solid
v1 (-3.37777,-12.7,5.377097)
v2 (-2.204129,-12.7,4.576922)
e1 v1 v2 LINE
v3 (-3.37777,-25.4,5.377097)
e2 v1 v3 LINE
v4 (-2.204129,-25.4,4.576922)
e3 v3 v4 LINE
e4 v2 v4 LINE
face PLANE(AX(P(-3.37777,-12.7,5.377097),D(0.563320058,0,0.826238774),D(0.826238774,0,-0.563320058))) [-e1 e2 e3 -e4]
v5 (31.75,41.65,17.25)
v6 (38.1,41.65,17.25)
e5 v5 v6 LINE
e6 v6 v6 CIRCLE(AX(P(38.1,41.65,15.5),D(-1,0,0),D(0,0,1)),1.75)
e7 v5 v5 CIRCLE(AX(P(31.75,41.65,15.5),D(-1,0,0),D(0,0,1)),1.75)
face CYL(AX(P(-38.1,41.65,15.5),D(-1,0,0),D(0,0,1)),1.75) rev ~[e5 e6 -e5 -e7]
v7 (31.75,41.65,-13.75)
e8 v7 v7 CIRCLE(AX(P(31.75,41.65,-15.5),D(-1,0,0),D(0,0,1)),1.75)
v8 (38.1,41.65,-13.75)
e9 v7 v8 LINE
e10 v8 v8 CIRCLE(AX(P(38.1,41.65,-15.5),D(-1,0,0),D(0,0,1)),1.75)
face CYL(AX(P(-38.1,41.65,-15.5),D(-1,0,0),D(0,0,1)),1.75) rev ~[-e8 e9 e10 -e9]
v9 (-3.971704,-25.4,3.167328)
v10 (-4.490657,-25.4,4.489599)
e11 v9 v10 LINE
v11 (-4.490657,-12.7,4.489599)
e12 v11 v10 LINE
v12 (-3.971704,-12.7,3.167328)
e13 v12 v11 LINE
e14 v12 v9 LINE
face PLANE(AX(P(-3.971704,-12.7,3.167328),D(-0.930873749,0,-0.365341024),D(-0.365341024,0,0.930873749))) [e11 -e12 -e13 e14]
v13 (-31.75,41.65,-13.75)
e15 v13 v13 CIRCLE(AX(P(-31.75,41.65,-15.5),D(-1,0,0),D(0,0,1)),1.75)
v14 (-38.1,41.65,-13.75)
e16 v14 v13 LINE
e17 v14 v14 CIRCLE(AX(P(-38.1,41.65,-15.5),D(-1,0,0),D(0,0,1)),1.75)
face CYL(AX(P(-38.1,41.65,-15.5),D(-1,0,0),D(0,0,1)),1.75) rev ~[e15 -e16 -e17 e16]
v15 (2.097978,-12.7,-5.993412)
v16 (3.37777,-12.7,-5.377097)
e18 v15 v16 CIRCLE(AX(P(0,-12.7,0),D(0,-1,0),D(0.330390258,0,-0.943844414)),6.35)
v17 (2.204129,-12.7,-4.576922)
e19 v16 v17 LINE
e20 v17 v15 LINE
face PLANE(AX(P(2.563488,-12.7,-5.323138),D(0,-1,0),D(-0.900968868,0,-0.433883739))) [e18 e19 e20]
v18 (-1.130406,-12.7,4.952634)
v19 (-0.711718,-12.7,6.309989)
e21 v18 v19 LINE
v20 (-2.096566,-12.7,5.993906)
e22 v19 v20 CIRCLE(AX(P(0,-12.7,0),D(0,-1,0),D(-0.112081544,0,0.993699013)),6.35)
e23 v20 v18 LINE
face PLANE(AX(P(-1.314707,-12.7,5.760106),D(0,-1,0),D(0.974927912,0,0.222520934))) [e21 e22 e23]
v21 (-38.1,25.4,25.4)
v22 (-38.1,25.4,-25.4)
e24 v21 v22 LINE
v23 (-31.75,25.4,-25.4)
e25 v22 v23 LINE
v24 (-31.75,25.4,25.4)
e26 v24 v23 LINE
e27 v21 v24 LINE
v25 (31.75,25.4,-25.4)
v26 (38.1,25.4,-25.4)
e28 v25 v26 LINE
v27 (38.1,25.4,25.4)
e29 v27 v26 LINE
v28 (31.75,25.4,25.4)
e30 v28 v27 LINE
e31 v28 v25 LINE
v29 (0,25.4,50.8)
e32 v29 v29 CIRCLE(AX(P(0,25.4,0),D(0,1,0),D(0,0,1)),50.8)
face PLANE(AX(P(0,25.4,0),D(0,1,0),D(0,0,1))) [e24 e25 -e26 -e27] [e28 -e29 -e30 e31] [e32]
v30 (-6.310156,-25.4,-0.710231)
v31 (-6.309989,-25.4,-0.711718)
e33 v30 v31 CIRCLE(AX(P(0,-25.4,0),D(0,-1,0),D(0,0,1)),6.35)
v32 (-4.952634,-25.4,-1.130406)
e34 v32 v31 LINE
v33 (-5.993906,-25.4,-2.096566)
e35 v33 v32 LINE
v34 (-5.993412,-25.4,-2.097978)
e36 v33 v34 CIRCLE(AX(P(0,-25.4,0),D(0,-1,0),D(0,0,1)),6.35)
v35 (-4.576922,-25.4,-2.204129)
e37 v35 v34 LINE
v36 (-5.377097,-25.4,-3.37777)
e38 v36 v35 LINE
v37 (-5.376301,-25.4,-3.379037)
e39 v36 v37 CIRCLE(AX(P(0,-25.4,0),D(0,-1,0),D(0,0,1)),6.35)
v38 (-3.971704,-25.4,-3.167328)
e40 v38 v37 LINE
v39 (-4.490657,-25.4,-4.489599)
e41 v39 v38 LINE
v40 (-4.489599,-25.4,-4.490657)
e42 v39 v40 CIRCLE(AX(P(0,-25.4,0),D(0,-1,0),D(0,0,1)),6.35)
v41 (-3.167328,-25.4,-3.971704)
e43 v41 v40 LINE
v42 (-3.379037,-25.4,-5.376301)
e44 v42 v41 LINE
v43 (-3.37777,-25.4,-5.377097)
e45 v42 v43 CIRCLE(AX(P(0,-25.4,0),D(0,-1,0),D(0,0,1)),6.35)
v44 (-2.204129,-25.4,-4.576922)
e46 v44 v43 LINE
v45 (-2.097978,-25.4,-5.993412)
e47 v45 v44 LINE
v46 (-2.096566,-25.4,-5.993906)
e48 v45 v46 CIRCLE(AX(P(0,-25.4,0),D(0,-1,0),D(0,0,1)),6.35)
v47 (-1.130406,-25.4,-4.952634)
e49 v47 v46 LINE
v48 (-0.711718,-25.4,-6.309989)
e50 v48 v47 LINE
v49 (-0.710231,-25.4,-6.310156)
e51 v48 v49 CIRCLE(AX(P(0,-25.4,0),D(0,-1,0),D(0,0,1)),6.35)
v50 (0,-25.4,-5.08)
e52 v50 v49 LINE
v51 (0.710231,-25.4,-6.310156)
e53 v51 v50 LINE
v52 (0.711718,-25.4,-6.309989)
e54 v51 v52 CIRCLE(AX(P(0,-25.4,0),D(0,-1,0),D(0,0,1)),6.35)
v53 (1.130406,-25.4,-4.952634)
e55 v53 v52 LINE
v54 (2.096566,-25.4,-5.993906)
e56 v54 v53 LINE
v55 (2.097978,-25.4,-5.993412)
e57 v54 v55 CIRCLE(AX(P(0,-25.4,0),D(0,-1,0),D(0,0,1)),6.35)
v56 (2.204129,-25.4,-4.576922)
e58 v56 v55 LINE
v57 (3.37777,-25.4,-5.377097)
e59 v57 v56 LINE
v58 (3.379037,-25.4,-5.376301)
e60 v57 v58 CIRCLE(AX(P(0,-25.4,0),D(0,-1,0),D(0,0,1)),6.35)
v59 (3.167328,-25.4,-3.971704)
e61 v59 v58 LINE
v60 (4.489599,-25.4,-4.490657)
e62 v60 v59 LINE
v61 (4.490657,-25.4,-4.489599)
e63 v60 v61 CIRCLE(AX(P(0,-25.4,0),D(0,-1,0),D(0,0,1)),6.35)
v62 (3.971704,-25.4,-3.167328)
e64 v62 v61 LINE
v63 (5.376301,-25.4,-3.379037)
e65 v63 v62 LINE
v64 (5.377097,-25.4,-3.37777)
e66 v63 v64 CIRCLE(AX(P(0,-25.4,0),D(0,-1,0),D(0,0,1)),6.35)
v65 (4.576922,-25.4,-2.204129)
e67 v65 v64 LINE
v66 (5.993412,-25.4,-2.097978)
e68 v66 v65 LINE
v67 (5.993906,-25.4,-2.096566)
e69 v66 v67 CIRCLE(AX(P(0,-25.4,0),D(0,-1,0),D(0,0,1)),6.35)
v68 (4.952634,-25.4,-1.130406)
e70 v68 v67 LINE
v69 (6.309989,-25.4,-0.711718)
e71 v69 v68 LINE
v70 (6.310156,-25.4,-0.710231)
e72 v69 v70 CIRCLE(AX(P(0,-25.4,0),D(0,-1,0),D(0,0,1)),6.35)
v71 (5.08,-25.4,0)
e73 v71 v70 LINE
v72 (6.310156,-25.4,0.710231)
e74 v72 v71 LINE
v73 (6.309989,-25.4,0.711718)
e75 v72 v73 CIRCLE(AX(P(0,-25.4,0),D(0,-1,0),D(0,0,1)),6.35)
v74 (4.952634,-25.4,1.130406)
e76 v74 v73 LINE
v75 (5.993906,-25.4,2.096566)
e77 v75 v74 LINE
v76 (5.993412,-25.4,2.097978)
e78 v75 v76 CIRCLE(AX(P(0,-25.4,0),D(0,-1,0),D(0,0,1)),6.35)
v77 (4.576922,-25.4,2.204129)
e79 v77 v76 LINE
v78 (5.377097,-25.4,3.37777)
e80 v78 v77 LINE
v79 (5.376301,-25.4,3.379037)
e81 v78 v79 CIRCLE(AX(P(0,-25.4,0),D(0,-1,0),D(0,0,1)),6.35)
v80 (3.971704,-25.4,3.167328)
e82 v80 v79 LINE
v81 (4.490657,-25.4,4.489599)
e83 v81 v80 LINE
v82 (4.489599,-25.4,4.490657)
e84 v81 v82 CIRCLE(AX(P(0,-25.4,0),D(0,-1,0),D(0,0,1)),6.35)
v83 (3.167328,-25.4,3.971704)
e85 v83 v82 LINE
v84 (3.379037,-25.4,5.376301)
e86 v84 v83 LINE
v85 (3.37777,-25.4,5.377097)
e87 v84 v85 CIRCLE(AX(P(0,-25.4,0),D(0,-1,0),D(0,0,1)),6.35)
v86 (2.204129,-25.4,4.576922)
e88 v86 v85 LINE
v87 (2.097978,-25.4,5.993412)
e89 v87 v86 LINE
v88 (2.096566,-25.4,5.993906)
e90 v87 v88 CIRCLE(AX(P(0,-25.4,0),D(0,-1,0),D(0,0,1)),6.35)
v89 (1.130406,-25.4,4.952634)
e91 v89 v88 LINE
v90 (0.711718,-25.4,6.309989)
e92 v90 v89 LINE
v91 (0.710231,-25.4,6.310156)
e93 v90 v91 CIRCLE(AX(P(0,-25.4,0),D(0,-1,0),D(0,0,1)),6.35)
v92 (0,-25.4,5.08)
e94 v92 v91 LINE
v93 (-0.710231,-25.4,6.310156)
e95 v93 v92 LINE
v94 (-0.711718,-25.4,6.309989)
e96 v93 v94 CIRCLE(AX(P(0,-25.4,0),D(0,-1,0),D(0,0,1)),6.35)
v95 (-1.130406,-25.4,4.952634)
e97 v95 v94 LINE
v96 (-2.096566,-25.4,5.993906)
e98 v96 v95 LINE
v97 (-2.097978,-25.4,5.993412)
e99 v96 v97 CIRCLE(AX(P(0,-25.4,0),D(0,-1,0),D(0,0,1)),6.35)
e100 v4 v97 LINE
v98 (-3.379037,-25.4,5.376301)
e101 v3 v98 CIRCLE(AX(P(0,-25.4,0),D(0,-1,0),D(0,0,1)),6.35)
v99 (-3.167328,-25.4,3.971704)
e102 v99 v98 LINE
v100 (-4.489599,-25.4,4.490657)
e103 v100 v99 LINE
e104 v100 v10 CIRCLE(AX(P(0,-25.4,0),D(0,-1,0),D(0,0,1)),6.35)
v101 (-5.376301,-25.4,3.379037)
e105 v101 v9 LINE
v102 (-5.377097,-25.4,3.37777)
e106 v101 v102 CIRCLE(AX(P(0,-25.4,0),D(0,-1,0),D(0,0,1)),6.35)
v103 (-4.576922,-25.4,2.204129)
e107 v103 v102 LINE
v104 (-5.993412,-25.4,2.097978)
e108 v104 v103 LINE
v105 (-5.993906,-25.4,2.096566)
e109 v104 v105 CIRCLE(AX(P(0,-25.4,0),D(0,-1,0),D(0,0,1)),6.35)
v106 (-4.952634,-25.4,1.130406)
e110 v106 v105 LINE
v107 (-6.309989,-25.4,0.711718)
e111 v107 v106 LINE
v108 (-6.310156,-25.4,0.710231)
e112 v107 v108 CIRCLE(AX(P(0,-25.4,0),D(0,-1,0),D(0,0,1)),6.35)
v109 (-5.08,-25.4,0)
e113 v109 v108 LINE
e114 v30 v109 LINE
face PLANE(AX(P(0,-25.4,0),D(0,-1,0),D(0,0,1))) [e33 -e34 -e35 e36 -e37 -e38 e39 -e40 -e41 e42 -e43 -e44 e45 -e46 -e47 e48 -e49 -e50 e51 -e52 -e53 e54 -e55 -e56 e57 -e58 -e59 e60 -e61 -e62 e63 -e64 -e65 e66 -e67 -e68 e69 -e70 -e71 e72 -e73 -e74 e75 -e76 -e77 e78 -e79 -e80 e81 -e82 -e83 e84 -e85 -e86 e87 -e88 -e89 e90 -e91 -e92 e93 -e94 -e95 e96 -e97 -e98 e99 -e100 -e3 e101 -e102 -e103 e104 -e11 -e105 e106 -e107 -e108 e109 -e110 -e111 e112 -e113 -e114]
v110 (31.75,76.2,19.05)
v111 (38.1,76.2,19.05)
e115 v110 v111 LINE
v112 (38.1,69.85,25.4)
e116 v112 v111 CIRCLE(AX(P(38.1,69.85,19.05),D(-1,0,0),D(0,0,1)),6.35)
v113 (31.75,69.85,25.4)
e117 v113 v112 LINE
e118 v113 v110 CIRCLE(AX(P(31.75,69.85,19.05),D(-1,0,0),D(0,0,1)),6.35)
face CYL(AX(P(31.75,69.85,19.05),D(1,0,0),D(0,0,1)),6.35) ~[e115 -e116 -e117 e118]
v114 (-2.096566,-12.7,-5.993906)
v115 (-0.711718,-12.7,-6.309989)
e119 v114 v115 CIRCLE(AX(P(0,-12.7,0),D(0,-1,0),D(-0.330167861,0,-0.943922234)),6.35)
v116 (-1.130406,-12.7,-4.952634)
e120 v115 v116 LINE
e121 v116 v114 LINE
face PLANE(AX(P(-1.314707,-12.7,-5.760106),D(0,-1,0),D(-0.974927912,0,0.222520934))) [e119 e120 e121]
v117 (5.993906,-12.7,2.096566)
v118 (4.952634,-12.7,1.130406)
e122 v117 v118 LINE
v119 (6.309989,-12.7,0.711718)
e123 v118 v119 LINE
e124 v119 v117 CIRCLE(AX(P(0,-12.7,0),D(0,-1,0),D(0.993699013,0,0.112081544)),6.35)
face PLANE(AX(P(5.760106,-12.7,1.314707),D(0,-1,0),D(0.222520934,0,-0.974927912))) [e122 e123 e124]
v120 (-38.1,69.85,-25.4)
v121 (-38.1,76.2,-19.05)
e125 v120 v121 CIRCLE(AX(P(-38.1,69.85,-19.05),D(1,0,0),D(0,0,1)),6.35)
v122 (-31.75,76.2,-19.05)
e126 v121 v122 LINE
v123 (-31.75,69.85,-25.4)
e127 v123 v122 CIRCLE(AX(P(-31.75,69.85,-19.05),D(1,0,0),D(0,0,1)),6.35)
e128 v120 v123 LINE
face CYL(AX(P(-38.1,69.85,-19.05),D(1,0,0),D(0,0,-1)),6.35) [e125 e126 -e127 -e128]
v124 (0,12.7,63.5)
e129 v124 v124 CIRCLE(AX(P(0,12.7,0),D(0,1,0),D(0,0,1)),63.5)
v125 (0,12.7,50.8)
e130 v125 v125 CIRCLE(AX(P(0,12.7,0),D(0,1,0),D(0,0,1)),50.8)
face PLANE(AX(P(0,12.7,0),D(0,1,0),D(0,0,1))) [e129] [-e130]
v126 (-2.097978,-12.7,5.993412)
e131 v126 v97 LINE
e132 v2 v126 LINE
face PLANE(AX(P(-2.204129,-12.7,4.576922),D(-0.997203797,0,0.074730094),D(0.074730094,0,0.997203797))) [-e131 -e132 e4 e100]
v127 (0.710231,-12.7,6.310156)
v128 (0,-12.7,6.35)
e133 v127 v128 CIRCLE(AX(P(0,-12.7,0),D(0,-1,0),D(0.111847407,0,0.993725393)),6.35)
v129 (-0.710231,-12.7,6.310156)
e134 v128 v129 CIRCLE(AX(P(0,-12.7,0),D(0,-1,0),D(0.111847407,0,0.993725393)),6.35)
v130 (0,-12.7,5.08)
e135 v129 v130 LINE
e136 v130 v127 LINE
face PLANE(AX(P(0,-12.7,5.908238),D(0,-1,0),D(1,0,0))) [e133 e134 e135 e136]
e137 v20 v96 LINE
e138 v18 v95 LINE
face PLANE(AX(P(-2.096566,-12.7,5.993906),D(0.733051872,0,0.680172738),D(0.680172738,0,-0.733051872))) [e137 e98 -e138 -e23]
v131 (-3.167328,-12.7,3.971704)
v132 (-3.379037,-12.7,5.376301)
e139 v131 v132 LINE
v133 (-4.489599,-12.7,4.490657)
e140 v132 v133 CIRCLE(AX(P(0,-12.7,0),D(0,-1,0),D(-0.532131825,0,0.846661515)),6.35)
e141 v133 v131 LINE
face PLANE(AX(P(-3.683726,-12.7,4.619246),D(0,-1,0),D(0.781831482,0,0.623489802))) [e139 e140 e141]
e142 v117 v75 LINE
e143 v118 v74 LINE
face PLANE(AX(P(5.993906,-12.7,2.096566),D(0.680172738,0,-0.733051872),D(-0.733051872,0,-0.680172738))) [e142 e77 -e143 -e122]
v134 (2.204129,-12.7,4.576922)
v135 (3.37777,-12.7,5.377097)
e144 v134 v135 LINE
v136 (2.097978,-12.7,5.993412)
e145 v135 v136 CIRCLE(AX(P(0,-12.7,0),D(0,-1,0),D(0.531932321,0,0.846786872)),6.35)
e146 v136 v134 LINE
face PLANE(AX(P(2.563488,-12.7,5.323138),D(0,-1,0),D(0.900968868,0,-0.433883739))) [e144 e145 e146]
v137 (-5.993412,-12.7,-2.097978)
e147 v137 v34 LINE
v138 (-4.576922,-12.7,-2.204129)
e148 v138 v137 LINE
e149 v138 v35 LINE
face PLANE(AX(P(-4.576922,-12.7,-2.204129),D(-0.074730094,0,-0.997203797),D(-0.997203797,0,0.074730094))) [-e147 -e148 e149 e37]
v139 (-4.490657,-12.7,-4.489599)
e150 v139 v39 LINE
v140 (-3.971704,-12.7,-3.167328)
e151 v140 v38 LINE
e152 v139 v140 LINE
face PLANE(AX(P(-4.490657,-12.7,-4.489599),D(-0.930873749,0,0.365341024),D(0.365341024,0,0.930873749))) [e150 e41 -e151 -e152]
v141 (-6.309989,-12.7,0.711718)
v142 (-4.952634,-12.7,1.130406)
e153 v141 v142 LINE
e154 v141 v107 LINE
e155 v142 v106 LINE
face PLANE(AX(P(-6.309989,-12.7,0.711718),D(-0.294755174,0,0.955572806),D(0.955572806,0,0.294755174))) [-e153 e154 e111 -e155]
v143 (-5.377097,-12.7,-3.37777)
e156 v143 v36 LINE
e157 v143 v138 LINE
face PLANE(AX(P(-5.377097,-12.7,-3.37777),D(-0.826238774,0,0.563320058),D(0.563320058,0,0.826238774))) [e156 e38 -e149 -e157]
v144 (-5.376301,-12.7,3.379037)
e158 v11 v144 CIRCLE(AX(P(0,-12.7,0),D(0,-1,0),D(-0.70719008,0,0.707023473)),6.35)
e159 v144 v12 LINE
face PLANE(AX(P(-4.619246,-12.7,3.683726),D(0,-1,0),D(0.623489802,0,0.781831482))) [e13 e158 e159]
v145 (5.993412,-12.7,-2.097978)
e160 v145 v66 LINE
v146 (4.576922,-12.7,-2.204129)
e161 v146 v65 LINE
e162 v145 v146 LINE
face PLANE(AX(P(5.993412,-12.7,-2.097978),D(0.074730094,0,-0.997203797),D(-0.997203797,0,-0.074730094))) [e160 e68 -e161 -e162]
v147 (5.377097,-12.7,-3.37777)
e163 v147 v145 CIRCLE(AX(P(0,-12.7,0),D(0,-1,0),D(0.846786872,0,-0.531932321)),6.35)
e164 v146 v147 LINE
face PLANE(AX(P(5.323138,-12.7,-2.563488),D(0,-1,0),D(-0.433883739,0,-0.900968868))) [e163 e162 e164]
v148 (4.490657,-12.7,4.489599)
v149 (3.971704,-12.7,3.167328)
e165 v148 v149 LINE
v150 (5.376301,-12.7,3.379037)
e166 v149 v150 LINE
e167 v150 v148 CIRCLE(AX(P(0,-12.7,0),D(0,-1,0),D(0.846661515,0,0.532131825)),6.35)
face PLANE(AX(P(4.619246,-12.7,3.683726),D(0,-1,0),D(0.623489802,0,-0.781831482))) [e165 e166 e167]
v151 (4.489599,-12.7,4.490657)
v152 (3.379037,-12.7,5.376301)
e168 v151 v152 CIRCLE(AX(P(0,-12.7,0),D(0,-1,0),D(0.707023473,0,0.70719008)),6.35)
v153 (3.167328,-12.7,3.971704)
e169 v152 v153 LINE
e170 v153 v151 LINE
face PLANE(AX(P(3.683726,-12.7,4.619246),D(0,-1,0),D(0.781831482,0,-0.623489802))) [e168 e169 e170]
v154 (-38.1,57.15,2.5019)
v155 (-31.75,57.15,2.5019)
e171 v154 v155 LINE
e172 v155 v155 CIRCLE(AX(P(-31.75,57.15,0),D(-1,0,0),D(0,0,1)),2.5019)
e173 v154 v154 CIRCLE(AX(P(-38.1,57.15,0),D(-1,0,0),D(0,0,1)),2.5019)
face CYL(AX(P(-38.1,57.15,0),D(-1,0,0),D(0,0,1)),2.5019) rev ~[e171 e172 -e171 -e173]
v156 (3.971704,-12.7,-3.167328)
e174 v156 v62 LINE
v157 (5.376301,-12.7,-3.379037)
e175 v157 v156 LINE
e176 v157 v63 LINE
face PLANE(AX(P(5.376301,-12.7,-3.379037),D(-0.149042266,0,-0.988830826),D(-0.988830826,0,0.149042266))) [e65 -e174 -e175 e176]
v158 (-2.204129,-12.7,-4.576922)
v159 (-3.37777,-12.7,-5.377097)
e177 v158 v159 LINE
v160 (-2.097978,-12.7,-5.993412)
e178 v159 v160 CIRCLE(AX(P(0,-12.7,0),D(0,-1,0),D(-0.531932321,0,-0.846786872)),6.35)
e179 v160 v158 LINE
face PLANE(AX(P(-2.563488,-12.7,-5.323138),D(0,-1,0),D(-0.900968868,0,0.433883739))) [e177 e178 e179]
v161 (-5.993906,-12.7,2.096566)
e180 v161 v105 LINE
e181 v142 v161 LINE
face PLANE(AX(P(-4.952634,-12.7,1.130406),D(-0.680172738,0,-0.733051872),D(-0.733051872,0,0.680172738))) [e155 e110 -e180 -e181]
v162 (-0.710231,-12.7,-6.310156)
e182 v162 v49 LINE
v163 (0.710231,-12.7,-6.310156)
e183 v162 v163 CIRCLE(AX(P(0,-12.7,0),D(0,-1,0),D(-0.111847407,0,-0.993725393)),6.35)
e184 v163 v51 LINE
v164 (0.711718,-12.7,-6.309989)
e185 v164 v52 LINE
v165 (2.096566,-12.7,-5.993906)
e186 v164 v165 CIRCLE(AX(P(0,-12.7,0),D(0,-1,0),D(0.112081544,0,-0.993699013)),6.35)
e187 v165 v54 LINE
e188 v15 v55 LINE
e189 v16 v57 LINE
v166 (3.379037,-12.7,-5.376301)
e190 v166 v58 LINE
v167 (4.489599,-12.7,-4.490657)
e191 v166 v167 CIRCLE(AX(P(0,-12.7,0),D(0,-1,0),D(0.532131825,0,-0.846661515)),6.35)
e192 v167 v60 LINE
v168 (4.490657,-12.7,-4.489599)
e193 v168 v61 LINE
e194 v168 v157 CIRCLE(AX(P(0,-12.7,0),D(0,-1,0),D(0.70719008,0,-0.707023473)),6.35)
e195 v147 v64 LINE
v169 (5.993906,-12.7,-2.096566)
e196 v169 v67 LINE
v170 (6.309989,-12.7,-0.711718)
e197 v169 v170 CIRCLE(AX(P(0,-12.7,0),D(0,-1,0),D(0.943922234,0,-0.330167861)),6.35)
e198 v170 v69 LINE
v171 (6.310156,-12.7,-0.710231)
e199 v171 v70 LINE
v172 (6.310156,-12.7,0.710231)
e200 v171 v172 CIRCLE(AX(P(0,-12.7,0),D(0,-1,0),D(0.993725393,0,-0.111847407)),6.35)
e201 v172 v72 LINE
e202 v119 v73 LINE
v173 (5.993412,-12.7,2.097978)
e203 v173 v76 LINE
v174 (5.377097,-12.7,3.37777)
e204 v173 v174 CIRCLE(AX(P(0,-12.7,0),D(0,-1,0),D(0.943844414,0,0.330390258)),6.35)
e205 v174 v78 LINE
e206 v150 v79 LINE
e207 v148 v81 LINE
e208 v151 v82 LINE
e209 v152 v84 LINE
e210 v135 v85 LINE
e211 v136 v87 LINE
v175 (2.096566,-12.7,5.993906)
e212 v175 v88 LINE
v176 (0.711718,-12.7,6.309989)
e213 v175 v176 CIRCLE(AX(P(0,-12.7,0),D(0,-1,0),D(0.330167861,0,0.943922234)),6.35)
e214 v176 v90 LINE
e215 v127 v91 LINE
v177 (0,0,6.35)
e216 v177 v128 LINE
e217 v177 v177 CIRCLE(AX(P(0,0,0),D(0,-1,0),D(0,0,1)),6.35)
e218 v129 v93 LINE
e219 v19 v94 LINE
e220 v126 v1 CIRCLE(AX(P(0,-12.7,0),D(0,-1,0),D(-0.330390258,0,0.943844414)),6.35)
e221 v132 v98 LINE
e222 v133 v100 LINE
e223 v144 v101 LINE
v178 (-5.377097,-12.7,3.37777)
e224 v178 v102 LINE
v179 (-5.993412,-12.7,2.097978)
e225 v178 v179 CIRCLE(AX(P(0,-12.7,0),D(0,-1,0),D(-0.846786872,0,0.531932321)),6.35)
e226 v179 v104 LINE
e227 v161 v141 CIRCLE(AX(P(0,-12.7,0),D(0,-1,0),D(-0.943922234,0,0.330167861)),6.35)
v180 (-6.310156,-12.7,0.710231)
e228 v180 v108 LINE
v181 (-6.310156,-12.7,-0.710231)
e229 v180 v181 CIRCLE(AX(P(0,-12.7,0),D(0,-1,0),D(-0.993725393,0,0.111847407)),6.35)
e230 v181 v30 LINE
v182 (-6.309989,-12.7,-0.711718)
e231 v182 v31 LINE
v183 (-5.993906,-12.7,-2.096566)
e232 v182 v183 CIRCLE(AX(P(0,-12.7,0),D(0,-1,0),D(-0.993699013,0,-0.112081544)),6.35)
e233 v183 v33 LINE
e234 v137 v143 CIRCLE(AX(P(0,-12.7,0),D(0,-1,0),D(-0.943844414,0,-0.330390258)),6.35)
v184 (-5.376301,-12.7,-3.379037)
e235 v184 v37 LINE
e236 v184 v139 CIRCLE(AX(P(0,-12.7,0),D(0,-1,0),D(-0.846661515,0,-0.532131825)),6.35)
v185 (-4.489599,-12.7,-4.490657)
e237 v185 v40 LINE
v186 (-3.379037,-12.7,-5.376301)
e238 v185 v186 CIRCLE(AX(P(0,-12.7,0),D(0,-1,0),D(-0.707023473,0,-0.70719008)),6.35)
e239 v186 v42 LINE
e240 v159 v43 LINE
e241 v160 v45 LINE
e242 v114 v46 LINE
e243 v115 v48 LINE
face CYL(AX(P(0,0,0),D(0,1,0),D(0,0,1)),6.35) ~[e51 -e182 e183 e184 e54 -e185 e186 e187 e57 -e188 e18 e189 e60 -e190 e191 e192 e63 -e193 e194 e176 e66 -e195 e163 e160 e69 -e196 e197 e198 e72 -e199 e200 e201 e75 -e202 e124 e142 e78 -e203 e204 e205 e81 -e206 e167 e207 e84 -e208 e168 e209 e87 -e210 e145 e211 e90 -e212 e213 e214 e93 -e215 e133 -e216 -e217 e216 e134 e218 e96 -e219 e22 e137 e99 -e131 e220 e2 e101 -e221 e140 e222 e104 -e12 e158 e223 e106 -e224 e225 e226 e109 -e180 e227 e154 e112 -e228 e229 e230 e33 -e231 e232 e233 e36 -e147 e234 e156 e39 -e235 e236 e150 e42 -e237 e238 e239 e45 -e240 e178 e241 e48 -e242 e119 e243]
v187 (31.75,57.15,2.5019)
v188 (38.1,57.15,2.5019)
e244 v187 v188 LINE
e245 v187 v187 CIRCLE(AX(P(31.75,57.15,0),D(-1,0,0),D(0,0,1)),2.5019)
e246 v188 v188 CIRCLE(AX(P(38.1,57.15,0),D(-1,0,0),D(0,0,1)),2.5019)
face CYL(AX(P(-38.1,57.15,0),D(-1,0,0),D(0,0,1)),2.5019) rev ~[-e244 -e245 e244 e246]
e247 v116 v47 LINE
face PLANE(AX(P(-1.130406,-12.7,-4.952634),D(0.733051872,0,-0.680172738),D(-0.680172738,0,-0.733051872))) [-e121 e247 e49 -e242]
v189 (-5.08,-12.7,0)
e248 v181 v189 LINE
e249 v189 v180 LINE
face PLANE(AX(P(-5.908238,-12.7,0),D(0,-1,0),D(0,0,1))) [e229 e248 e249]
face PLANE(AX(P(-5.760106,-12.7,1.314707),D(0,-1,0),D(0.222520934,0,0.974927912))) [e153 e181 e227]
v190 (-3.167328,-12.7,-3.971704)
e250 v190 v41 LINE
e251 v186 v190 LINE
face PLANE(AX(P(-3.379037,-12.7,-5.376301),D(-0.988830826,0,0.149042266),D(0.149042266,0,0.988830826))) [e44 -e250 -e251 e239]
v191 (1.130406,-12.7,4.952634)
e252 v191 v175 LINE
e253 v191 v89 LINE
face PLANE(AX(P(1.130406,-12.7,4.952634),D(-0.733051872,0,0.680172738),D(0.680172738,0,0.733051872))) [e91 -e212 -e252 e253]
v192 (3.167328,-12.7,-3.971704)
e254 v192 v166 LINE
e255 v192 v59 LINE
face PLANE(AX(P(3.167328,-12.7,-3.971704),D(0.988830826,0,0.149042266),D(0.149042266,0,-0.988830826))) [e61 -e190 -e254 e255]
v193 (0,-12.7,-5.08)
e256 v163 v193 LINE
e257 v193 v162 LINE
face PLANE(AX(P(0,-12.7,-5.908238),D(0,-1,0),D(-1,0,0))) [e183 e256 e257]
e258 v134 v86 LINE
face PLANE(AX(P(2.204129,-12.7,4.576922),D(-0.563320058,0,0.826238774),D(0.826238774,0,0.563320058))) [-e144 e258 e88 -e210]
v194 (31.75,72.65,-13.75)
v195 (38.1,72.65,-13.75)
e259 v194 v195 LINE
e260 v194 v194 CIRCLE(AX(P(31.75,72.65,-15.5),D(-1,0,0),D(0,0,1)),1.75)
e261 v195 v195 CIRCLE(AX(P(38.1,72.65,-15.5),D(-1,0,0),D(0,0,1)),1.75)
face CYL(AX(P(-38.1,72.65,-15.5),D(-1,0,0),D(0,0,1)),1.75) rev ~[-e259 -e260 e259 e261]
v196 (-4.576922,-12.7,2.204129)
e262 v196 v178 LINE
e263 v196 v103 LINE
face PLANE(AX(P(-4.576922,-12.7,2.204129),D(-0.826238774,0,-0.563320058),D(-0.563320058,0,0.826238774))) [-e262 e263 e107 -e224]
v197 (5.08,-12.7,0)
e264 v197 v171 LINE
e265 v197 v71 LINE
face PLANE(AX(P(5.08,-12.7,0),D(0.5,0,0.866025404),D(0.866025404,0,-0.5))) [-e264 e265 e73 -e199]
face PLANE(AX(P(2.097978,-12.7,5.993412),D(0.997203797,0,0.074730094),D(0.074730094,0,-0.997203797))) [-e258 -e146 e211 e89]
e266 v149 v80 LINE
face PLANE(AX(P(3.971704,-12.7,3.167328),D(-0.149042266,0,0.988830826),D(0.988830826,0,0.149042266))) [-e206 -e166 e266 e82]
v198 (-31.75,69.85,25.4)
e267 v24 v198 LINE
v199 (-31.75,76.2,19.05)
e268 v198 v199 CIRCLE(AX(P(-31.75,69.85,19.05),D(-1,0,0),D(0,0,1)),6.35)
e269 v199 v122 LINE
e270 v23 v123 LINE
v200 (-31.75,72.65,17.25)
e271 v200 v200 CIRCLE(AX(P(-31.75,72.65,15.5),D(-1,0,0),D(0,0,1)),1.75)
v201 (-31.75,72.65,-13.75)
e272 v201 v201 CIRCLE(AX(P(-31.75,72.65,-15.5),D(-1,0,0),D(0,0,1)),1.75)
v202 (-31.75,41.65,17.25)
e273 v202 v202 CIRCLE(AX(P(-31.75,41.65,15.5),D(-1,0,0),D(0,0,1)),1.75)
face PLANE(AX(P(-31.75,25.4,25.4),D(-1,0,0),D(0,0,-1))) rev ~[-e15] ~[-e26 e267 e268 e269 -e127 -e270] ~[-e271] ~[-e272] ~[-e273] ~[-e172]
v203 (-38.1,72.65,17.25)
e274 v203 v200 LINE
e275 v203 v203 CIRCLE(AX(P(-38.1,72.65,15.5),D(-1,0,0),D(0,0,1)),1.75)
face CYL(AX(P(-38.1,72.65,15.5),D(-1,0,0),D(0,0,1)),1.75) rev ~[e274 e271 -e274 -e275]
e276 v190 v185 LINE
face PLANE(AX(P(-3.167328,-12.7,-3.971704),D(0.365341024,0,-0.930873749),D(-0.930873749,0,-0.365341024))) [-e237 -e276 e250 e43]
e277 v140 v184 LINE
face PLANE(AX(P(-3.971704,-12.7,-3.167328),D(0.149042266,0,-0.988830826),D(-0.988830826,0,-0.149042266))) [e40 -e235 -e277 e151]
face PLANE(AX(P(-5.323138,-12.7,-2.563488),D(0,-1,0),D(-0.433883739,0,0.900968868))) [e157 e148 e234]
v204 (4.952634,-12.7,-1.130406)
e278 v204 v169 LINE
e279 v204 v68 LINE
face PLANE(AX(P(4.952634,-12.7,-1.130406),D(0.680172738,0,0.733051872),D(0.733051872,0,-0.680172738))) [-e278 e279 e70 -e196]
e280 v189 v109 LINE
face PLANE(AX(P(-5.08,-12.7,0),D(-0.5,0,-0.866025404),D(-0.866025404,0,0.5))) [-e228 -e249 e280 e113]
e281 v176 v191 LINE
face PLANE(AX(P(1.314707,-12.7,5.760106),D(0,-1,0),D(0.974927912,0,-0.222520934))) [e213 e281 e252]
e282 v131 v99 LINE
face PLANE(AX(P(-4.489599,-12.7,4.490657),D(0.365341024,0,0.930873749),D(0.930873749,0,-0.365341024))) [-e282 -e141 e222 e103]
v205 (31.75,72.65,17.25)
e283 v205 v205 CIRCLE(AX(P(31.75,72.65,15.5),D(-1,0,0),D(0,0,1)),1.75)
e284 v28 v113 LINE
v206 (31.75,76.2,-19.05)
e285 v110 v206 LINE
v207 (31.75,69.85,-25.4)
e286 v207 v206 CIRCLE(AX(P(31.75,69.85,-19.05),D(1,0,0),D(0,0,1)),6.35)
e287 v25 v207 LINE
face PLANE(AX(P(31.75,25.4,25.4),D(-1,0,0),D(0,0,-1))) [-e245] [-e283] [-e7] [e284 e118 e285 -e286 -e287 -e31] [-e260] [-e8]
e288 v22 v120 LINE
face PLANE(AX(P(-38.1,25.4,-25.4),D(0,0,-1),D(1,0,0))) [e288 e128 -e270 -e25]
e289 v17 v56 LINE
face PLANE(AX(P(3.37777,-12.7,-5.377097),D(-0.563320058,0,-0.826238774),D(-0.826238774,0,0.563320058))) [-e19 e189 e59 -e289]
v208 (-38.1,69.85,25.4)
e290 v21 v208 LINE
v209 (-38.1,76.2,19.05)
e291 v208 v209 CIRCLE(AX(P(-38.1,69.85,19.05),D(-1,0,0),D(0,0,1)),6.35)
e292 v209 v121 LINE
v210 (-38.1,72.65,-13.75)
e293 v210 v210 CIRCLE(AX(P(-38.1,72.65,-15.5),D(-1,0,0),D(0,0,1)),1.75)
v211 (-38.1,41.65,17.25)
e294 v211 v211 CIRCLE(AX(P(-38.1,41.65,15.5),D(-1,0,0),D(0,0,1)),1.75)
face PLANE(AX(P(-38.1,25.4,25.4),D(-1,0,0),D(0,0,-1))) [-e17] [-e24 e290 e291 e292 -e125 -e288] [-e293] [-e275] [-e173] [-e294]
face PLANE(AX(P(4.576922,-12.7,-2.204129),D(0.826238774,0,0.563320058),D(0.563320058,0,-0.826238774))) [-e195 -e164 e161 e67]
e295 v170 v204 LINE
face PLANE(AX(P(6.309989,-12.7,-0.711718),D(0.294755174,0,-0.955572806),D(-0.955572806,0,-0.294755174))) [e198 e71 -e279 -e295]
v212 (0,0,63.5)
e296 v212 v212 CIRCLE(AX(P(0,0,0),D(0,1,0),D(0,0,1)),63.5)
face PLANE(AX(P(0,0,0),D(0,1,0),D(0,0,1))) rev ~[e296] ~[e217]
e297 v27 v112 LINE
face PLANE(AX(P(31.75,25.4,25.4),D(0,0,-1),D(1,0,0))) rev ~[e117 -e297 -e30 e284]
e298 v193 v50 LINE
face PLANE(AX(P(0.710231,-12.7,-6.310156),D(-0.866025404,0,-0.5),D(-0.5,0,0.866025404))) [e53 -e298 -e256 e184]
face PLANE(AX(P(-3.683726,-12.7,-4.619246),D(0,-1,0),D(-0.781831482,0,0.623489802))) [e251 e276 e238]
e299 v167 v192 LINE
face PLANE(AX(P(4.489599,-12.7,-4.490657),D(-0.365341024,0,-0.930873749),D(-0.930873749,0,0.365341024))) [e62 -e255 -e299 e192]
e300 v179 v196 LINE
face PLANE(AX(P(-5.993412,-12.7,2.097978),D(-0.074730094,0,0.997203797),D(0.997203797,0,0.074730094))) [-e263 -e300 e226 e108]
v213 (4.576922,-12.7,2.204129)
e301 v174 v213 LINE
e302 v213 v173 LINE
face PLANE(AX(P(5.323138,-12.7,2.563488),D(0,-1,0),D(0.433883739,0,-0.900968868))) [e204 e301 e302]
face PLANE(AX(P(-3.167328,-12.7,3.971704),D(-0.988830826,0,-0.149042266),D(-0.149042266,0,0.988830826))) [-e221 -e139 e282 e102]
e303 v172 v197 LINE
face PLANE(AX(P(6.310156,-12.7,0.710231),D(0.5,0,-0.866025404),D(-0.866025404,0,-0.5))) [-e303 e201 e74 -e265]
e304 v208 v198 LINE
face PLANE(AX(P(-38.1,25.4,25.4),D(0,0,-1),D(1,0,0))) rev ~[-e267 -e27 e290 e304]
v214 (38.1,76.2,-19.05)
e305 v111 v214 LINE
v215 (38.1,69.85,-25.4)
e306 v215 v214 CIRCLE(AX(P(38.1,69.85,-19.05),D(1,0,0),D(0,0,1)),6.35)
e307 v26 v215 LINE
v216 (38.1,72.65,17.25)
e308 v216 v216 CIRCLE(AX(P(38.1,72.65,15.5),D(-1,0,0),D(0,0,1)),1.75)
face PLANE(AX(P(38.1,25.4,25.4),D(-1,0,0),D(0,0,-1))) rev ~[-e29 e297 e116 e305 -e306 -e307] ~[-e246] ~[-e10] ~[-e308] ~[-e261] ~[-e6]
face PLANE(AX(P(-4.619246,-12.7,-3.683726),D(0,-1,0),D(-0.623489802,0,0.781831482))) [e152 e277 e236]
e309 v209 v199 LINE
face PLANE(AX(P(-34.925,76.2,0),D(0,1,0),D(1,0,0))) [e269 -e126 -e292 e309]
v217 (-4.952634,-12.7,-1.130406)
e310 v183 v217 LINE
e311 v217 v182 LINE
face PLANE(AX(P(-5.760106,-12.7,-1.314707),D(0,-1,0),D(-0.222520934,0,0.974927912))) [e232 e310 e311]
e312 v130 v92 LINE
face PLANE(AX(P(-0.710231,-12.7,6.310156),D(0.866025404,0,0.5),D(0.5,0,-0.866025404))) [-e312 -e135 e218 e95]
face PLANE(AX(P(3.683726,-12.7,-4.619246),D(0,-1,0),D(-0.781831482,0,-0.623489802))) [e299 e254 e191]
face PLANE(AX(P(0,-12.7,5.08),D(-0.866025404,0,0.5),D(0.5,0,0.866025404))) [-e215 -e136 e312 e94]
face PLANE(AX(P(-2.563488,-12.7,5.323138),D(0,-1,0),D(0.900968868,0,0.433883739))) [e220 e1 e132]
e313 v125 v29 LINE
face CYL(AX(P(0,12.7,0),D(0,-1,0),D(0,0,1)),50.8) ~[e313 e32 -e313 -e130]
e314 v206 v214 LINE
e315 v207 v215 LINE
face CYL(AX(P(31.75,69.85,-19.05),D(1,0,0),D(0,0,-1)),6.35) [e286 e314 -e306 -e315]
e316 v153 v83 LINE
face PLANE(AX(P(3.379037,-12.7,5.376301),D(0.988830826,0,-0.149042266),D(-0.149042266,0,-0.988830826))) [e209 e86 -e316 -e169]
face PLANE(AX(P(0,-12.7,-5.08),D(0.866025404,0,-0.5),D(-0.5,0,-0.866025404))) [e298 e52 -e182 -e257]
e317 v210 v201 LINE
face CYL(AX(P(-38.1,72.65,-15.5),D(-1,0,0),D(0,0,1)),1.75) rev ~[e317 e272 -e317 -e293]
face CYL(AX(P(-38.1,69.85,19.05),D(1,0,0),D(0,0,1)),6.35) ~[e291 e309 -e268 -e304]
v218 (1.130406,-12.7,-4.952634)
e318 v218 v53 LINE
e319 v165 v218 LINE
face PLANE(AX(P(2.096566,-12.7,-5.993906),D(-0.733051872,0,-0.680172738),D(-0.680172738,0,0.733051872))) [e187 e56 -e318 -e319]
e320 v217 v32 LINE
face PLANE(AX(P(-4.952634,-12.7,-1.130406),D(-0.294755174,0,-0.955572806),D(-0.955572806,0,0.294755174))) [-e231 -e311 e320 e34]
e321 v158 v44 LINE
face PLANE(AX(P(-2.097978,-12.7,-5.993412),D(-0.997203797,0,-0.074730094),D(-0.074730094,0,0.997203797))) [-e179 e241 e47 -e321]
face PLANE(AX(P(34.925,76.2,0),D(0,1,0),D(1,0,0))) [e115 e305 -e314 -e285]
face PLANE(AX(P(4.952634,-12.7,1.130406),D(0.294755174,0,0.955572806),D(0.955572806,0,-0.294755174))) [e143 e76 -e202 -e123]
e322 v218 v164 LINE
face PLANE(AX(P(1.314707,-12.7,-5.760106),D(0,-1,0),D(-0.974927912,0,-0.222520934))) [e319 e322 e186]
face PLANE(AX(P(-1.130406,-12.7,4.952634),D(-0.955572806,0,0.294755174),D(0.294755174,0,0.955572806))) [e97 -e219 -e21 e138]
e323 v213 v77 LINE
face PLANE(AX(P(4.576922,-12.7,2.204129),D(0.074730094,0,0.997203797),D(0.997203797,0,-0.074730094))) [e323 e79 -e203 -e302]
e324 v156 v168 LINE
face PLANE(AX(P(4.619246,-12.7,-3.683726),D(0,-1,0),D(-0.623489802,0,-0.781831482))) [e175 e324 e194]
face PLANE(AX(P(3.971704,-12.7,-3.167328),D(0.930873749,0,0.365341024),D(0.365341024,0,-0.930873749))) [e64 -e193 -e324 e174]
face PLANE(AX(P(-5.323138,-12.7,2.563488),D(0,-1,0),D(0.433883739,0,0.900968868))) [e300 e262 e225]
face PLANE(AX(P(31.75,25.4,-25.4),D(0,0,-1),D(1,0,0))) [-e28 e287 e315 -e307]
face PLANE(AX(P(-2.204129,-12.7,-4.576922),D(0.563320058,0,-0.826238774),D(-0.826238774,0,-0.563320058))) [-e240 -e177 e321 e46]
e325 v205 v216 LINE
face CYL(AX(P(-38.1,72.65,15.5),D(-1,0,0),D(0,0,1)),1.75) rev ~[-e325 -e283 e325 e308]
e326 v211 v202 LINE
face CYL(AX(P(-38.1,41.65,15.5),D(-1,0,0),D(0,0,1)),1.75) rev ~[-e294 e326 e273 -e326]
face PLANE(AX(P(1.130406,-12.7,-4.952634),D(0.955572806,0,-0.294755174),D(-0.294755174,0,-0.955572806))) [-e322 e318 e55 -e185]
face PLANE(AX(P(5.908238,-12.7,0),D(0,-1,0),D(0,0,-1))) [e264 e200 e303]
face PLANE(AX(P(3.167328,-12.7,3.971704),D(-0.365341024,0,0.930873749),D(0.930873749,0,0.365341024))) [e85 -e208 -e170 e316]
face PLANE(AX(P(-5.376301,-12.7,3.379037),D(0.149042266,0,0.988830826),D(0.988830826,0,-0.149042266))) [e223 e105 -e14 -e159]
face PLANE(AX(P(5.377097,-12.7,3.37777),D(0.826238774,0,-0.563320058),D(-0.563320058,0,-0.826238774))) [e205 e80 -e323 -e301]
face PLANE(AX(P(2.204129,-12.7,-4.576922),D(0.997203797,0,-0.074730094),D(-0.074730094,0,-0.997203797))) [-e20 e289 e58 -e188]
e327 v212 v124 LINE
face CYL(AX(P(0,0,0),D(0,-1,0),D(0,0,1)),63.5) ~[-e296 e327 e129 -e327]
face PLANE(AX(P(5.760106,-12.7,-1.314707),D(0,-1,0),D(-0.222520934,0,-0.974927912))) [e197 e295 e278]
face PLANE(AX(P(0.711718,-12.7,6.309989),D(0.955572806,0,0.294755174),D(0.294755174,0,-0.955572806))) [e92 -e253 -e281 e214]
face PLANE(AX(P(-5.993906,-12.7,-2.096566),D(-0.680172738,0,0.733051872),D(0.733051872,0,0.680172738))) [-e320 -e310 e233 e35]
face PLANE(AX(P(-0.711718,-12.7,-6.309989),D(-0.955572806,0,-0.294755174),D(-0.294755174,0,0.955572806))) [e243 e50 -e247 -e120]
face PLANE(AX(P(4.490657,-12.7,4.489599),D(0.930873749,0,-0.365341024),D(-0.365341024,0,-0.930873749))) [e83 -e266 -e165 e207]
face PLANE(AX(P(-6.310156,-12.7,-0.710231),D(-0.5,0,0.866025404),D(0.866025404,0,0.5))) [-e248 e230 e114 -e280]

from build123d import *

# Parameters (mm, degrees)
SKETCH2_R           = 63.5
BOSS_EXTRUDE1_DEPTH = 12.7
SKETCH3_R           = 50.8
BOSS_EXTRUDE2_DEPTH = 12.7
SKETCH4_R           = 6.35
BOSS_EXTRUDE3_DEPTH = 25.4
SKETCH5_W           = 6.35
SKETCH5_H           = 50.8
BOSS_EXTRUDE4_DEPTH = 50.8
FILLET1_R           = 6.35
SKETCH6_R           = 2.5019
SKETCH6_R_2         = 1.75
CUT_EXTRUDE1_DEPTH  = 142.990316571
CUT_EXTRUDE2_START  = -12.7
CUT_EXTRUDE2_DEPTH  = 12.7
CIRPATTERN1_COUNT   = 28


with BuildPart() as part:
    # Sketch2 → Boss-Extrude1 (new body)
    with BuildSketch(Plane(origin=(0, 0, 0), x_dir=(1, 0, 0), z_dir=(0, 1, 0))):
        with Locations(Location((0, 0, 0), (0, 0, 270))):
            Circle(SKETCH2_R)
    extrude(amount=BOSS_EXTRUDE1_DEPTH)

    # Sketch3 → Boss-Extrude2 (add)
    with BuildSketch(Plane(origin=(0, 12.7, 0), x_dir=(1, 0, 0), z_dir=(0, 1, 0))):
        with Locations(Location((0, 0, 0), (0, 0, 270))):
            Circle(SKETCH3_R)
    extrude(amount=BOSS_EXTRUDE2_DEPTH)

    # Sketch4 → Boss-Extrude3 (add)
    with BuildSketch(Plane.XZ):
        with Locations(Location((0, 0, 0), (0, 0, 90))):
            Circle(SKETCH4_R)
    extrude(amount=BOSS_EXTRUDE3_DEPTH)

    # Sketch5 → Boss-Extrude4 (add)
    with BuildSketch(Plane(origin=(0, 25.4, 0), x_dir=(1, 0, 0), z_dir=(0, 1, 0))):
        with Locations((34.925, 0)):
            Rectangle(SKETCH5_W, SKETCH5_H)
        with Locations((-34.925, 0)):
            Rectangle(SKETCH5_W, SKETCH5_H)
    extrude(amount=BOSS_EXTRUDE4_DEPTH)

    # Fillet1
    fillet1_edges = [part.edges().sort_by_distance(p)[0] for p in [
        (-34.925, 76.2, 25.4),
        (-34.925, 76.2, -25.4),
        (34.925, 76.2, -25.4),
        (34.925, 76.2, 25.4),
    ]]
    fillet(fillet1_edges, radius=FILLET1_R)

    # Sketch6 → Cut-Extrude1 (cut, through all)
    with BuildSketch(Plane.ZY.offset(38.1)):
        with Locations((0, 57.15)):
            Circle(SKETCH6_R)
        with Locations((-15.5, 41.65)):
            Circle(SKETCH6_R_2)
        with Locations((15.499999976, 41.65)):
            Circle(SKETCH6_R_2)
        with Locations((15.499999976, 72.649999976)):
            Circle(SKETCH6_R_2)
        with Locations((-15.5, 72.649999976)):
            Circle(SKETCH6_R_2)
    extrude(amount=-CUT_EXTRUDE1_DEPTH, mode=Mode.SUBTRACT)

    # Sketch7 → Cut-Extrude2 (cut)
    with BuildSketch(Plane.XZ.offset(25.4).offset(CUT_EXTRUDE2_START)):
        with BuildLine():
            Line((0, 5.08), (0.710231041, 6.310156248))
            ThreePointArc((0.710231041, 6.310156248), (0, 6.35), (-0.710231041, 6.310156248))
            Line((-0.710231041, 6.310156248), (0, 5.08))
        make_face()
    cut_extrude2 = extrude(amount=CUT_EXTRUDE2_DEPTH, mode=Mode.SUBTRACT)

    # CirPattern1: Cut-Extrude2 ×28 about axis
    cirpattern1_axis = Axis((0, 0, 0), (0, 1, 0))
    for i in range(1, CIRPATTERN1_COUNT):
        add(cut_extrude2.rotate(cirpattern1_axis, i * 360 / CIRPATTERN1_COUNT), mode=Mode.SUBTRACT)


solid = part.part
